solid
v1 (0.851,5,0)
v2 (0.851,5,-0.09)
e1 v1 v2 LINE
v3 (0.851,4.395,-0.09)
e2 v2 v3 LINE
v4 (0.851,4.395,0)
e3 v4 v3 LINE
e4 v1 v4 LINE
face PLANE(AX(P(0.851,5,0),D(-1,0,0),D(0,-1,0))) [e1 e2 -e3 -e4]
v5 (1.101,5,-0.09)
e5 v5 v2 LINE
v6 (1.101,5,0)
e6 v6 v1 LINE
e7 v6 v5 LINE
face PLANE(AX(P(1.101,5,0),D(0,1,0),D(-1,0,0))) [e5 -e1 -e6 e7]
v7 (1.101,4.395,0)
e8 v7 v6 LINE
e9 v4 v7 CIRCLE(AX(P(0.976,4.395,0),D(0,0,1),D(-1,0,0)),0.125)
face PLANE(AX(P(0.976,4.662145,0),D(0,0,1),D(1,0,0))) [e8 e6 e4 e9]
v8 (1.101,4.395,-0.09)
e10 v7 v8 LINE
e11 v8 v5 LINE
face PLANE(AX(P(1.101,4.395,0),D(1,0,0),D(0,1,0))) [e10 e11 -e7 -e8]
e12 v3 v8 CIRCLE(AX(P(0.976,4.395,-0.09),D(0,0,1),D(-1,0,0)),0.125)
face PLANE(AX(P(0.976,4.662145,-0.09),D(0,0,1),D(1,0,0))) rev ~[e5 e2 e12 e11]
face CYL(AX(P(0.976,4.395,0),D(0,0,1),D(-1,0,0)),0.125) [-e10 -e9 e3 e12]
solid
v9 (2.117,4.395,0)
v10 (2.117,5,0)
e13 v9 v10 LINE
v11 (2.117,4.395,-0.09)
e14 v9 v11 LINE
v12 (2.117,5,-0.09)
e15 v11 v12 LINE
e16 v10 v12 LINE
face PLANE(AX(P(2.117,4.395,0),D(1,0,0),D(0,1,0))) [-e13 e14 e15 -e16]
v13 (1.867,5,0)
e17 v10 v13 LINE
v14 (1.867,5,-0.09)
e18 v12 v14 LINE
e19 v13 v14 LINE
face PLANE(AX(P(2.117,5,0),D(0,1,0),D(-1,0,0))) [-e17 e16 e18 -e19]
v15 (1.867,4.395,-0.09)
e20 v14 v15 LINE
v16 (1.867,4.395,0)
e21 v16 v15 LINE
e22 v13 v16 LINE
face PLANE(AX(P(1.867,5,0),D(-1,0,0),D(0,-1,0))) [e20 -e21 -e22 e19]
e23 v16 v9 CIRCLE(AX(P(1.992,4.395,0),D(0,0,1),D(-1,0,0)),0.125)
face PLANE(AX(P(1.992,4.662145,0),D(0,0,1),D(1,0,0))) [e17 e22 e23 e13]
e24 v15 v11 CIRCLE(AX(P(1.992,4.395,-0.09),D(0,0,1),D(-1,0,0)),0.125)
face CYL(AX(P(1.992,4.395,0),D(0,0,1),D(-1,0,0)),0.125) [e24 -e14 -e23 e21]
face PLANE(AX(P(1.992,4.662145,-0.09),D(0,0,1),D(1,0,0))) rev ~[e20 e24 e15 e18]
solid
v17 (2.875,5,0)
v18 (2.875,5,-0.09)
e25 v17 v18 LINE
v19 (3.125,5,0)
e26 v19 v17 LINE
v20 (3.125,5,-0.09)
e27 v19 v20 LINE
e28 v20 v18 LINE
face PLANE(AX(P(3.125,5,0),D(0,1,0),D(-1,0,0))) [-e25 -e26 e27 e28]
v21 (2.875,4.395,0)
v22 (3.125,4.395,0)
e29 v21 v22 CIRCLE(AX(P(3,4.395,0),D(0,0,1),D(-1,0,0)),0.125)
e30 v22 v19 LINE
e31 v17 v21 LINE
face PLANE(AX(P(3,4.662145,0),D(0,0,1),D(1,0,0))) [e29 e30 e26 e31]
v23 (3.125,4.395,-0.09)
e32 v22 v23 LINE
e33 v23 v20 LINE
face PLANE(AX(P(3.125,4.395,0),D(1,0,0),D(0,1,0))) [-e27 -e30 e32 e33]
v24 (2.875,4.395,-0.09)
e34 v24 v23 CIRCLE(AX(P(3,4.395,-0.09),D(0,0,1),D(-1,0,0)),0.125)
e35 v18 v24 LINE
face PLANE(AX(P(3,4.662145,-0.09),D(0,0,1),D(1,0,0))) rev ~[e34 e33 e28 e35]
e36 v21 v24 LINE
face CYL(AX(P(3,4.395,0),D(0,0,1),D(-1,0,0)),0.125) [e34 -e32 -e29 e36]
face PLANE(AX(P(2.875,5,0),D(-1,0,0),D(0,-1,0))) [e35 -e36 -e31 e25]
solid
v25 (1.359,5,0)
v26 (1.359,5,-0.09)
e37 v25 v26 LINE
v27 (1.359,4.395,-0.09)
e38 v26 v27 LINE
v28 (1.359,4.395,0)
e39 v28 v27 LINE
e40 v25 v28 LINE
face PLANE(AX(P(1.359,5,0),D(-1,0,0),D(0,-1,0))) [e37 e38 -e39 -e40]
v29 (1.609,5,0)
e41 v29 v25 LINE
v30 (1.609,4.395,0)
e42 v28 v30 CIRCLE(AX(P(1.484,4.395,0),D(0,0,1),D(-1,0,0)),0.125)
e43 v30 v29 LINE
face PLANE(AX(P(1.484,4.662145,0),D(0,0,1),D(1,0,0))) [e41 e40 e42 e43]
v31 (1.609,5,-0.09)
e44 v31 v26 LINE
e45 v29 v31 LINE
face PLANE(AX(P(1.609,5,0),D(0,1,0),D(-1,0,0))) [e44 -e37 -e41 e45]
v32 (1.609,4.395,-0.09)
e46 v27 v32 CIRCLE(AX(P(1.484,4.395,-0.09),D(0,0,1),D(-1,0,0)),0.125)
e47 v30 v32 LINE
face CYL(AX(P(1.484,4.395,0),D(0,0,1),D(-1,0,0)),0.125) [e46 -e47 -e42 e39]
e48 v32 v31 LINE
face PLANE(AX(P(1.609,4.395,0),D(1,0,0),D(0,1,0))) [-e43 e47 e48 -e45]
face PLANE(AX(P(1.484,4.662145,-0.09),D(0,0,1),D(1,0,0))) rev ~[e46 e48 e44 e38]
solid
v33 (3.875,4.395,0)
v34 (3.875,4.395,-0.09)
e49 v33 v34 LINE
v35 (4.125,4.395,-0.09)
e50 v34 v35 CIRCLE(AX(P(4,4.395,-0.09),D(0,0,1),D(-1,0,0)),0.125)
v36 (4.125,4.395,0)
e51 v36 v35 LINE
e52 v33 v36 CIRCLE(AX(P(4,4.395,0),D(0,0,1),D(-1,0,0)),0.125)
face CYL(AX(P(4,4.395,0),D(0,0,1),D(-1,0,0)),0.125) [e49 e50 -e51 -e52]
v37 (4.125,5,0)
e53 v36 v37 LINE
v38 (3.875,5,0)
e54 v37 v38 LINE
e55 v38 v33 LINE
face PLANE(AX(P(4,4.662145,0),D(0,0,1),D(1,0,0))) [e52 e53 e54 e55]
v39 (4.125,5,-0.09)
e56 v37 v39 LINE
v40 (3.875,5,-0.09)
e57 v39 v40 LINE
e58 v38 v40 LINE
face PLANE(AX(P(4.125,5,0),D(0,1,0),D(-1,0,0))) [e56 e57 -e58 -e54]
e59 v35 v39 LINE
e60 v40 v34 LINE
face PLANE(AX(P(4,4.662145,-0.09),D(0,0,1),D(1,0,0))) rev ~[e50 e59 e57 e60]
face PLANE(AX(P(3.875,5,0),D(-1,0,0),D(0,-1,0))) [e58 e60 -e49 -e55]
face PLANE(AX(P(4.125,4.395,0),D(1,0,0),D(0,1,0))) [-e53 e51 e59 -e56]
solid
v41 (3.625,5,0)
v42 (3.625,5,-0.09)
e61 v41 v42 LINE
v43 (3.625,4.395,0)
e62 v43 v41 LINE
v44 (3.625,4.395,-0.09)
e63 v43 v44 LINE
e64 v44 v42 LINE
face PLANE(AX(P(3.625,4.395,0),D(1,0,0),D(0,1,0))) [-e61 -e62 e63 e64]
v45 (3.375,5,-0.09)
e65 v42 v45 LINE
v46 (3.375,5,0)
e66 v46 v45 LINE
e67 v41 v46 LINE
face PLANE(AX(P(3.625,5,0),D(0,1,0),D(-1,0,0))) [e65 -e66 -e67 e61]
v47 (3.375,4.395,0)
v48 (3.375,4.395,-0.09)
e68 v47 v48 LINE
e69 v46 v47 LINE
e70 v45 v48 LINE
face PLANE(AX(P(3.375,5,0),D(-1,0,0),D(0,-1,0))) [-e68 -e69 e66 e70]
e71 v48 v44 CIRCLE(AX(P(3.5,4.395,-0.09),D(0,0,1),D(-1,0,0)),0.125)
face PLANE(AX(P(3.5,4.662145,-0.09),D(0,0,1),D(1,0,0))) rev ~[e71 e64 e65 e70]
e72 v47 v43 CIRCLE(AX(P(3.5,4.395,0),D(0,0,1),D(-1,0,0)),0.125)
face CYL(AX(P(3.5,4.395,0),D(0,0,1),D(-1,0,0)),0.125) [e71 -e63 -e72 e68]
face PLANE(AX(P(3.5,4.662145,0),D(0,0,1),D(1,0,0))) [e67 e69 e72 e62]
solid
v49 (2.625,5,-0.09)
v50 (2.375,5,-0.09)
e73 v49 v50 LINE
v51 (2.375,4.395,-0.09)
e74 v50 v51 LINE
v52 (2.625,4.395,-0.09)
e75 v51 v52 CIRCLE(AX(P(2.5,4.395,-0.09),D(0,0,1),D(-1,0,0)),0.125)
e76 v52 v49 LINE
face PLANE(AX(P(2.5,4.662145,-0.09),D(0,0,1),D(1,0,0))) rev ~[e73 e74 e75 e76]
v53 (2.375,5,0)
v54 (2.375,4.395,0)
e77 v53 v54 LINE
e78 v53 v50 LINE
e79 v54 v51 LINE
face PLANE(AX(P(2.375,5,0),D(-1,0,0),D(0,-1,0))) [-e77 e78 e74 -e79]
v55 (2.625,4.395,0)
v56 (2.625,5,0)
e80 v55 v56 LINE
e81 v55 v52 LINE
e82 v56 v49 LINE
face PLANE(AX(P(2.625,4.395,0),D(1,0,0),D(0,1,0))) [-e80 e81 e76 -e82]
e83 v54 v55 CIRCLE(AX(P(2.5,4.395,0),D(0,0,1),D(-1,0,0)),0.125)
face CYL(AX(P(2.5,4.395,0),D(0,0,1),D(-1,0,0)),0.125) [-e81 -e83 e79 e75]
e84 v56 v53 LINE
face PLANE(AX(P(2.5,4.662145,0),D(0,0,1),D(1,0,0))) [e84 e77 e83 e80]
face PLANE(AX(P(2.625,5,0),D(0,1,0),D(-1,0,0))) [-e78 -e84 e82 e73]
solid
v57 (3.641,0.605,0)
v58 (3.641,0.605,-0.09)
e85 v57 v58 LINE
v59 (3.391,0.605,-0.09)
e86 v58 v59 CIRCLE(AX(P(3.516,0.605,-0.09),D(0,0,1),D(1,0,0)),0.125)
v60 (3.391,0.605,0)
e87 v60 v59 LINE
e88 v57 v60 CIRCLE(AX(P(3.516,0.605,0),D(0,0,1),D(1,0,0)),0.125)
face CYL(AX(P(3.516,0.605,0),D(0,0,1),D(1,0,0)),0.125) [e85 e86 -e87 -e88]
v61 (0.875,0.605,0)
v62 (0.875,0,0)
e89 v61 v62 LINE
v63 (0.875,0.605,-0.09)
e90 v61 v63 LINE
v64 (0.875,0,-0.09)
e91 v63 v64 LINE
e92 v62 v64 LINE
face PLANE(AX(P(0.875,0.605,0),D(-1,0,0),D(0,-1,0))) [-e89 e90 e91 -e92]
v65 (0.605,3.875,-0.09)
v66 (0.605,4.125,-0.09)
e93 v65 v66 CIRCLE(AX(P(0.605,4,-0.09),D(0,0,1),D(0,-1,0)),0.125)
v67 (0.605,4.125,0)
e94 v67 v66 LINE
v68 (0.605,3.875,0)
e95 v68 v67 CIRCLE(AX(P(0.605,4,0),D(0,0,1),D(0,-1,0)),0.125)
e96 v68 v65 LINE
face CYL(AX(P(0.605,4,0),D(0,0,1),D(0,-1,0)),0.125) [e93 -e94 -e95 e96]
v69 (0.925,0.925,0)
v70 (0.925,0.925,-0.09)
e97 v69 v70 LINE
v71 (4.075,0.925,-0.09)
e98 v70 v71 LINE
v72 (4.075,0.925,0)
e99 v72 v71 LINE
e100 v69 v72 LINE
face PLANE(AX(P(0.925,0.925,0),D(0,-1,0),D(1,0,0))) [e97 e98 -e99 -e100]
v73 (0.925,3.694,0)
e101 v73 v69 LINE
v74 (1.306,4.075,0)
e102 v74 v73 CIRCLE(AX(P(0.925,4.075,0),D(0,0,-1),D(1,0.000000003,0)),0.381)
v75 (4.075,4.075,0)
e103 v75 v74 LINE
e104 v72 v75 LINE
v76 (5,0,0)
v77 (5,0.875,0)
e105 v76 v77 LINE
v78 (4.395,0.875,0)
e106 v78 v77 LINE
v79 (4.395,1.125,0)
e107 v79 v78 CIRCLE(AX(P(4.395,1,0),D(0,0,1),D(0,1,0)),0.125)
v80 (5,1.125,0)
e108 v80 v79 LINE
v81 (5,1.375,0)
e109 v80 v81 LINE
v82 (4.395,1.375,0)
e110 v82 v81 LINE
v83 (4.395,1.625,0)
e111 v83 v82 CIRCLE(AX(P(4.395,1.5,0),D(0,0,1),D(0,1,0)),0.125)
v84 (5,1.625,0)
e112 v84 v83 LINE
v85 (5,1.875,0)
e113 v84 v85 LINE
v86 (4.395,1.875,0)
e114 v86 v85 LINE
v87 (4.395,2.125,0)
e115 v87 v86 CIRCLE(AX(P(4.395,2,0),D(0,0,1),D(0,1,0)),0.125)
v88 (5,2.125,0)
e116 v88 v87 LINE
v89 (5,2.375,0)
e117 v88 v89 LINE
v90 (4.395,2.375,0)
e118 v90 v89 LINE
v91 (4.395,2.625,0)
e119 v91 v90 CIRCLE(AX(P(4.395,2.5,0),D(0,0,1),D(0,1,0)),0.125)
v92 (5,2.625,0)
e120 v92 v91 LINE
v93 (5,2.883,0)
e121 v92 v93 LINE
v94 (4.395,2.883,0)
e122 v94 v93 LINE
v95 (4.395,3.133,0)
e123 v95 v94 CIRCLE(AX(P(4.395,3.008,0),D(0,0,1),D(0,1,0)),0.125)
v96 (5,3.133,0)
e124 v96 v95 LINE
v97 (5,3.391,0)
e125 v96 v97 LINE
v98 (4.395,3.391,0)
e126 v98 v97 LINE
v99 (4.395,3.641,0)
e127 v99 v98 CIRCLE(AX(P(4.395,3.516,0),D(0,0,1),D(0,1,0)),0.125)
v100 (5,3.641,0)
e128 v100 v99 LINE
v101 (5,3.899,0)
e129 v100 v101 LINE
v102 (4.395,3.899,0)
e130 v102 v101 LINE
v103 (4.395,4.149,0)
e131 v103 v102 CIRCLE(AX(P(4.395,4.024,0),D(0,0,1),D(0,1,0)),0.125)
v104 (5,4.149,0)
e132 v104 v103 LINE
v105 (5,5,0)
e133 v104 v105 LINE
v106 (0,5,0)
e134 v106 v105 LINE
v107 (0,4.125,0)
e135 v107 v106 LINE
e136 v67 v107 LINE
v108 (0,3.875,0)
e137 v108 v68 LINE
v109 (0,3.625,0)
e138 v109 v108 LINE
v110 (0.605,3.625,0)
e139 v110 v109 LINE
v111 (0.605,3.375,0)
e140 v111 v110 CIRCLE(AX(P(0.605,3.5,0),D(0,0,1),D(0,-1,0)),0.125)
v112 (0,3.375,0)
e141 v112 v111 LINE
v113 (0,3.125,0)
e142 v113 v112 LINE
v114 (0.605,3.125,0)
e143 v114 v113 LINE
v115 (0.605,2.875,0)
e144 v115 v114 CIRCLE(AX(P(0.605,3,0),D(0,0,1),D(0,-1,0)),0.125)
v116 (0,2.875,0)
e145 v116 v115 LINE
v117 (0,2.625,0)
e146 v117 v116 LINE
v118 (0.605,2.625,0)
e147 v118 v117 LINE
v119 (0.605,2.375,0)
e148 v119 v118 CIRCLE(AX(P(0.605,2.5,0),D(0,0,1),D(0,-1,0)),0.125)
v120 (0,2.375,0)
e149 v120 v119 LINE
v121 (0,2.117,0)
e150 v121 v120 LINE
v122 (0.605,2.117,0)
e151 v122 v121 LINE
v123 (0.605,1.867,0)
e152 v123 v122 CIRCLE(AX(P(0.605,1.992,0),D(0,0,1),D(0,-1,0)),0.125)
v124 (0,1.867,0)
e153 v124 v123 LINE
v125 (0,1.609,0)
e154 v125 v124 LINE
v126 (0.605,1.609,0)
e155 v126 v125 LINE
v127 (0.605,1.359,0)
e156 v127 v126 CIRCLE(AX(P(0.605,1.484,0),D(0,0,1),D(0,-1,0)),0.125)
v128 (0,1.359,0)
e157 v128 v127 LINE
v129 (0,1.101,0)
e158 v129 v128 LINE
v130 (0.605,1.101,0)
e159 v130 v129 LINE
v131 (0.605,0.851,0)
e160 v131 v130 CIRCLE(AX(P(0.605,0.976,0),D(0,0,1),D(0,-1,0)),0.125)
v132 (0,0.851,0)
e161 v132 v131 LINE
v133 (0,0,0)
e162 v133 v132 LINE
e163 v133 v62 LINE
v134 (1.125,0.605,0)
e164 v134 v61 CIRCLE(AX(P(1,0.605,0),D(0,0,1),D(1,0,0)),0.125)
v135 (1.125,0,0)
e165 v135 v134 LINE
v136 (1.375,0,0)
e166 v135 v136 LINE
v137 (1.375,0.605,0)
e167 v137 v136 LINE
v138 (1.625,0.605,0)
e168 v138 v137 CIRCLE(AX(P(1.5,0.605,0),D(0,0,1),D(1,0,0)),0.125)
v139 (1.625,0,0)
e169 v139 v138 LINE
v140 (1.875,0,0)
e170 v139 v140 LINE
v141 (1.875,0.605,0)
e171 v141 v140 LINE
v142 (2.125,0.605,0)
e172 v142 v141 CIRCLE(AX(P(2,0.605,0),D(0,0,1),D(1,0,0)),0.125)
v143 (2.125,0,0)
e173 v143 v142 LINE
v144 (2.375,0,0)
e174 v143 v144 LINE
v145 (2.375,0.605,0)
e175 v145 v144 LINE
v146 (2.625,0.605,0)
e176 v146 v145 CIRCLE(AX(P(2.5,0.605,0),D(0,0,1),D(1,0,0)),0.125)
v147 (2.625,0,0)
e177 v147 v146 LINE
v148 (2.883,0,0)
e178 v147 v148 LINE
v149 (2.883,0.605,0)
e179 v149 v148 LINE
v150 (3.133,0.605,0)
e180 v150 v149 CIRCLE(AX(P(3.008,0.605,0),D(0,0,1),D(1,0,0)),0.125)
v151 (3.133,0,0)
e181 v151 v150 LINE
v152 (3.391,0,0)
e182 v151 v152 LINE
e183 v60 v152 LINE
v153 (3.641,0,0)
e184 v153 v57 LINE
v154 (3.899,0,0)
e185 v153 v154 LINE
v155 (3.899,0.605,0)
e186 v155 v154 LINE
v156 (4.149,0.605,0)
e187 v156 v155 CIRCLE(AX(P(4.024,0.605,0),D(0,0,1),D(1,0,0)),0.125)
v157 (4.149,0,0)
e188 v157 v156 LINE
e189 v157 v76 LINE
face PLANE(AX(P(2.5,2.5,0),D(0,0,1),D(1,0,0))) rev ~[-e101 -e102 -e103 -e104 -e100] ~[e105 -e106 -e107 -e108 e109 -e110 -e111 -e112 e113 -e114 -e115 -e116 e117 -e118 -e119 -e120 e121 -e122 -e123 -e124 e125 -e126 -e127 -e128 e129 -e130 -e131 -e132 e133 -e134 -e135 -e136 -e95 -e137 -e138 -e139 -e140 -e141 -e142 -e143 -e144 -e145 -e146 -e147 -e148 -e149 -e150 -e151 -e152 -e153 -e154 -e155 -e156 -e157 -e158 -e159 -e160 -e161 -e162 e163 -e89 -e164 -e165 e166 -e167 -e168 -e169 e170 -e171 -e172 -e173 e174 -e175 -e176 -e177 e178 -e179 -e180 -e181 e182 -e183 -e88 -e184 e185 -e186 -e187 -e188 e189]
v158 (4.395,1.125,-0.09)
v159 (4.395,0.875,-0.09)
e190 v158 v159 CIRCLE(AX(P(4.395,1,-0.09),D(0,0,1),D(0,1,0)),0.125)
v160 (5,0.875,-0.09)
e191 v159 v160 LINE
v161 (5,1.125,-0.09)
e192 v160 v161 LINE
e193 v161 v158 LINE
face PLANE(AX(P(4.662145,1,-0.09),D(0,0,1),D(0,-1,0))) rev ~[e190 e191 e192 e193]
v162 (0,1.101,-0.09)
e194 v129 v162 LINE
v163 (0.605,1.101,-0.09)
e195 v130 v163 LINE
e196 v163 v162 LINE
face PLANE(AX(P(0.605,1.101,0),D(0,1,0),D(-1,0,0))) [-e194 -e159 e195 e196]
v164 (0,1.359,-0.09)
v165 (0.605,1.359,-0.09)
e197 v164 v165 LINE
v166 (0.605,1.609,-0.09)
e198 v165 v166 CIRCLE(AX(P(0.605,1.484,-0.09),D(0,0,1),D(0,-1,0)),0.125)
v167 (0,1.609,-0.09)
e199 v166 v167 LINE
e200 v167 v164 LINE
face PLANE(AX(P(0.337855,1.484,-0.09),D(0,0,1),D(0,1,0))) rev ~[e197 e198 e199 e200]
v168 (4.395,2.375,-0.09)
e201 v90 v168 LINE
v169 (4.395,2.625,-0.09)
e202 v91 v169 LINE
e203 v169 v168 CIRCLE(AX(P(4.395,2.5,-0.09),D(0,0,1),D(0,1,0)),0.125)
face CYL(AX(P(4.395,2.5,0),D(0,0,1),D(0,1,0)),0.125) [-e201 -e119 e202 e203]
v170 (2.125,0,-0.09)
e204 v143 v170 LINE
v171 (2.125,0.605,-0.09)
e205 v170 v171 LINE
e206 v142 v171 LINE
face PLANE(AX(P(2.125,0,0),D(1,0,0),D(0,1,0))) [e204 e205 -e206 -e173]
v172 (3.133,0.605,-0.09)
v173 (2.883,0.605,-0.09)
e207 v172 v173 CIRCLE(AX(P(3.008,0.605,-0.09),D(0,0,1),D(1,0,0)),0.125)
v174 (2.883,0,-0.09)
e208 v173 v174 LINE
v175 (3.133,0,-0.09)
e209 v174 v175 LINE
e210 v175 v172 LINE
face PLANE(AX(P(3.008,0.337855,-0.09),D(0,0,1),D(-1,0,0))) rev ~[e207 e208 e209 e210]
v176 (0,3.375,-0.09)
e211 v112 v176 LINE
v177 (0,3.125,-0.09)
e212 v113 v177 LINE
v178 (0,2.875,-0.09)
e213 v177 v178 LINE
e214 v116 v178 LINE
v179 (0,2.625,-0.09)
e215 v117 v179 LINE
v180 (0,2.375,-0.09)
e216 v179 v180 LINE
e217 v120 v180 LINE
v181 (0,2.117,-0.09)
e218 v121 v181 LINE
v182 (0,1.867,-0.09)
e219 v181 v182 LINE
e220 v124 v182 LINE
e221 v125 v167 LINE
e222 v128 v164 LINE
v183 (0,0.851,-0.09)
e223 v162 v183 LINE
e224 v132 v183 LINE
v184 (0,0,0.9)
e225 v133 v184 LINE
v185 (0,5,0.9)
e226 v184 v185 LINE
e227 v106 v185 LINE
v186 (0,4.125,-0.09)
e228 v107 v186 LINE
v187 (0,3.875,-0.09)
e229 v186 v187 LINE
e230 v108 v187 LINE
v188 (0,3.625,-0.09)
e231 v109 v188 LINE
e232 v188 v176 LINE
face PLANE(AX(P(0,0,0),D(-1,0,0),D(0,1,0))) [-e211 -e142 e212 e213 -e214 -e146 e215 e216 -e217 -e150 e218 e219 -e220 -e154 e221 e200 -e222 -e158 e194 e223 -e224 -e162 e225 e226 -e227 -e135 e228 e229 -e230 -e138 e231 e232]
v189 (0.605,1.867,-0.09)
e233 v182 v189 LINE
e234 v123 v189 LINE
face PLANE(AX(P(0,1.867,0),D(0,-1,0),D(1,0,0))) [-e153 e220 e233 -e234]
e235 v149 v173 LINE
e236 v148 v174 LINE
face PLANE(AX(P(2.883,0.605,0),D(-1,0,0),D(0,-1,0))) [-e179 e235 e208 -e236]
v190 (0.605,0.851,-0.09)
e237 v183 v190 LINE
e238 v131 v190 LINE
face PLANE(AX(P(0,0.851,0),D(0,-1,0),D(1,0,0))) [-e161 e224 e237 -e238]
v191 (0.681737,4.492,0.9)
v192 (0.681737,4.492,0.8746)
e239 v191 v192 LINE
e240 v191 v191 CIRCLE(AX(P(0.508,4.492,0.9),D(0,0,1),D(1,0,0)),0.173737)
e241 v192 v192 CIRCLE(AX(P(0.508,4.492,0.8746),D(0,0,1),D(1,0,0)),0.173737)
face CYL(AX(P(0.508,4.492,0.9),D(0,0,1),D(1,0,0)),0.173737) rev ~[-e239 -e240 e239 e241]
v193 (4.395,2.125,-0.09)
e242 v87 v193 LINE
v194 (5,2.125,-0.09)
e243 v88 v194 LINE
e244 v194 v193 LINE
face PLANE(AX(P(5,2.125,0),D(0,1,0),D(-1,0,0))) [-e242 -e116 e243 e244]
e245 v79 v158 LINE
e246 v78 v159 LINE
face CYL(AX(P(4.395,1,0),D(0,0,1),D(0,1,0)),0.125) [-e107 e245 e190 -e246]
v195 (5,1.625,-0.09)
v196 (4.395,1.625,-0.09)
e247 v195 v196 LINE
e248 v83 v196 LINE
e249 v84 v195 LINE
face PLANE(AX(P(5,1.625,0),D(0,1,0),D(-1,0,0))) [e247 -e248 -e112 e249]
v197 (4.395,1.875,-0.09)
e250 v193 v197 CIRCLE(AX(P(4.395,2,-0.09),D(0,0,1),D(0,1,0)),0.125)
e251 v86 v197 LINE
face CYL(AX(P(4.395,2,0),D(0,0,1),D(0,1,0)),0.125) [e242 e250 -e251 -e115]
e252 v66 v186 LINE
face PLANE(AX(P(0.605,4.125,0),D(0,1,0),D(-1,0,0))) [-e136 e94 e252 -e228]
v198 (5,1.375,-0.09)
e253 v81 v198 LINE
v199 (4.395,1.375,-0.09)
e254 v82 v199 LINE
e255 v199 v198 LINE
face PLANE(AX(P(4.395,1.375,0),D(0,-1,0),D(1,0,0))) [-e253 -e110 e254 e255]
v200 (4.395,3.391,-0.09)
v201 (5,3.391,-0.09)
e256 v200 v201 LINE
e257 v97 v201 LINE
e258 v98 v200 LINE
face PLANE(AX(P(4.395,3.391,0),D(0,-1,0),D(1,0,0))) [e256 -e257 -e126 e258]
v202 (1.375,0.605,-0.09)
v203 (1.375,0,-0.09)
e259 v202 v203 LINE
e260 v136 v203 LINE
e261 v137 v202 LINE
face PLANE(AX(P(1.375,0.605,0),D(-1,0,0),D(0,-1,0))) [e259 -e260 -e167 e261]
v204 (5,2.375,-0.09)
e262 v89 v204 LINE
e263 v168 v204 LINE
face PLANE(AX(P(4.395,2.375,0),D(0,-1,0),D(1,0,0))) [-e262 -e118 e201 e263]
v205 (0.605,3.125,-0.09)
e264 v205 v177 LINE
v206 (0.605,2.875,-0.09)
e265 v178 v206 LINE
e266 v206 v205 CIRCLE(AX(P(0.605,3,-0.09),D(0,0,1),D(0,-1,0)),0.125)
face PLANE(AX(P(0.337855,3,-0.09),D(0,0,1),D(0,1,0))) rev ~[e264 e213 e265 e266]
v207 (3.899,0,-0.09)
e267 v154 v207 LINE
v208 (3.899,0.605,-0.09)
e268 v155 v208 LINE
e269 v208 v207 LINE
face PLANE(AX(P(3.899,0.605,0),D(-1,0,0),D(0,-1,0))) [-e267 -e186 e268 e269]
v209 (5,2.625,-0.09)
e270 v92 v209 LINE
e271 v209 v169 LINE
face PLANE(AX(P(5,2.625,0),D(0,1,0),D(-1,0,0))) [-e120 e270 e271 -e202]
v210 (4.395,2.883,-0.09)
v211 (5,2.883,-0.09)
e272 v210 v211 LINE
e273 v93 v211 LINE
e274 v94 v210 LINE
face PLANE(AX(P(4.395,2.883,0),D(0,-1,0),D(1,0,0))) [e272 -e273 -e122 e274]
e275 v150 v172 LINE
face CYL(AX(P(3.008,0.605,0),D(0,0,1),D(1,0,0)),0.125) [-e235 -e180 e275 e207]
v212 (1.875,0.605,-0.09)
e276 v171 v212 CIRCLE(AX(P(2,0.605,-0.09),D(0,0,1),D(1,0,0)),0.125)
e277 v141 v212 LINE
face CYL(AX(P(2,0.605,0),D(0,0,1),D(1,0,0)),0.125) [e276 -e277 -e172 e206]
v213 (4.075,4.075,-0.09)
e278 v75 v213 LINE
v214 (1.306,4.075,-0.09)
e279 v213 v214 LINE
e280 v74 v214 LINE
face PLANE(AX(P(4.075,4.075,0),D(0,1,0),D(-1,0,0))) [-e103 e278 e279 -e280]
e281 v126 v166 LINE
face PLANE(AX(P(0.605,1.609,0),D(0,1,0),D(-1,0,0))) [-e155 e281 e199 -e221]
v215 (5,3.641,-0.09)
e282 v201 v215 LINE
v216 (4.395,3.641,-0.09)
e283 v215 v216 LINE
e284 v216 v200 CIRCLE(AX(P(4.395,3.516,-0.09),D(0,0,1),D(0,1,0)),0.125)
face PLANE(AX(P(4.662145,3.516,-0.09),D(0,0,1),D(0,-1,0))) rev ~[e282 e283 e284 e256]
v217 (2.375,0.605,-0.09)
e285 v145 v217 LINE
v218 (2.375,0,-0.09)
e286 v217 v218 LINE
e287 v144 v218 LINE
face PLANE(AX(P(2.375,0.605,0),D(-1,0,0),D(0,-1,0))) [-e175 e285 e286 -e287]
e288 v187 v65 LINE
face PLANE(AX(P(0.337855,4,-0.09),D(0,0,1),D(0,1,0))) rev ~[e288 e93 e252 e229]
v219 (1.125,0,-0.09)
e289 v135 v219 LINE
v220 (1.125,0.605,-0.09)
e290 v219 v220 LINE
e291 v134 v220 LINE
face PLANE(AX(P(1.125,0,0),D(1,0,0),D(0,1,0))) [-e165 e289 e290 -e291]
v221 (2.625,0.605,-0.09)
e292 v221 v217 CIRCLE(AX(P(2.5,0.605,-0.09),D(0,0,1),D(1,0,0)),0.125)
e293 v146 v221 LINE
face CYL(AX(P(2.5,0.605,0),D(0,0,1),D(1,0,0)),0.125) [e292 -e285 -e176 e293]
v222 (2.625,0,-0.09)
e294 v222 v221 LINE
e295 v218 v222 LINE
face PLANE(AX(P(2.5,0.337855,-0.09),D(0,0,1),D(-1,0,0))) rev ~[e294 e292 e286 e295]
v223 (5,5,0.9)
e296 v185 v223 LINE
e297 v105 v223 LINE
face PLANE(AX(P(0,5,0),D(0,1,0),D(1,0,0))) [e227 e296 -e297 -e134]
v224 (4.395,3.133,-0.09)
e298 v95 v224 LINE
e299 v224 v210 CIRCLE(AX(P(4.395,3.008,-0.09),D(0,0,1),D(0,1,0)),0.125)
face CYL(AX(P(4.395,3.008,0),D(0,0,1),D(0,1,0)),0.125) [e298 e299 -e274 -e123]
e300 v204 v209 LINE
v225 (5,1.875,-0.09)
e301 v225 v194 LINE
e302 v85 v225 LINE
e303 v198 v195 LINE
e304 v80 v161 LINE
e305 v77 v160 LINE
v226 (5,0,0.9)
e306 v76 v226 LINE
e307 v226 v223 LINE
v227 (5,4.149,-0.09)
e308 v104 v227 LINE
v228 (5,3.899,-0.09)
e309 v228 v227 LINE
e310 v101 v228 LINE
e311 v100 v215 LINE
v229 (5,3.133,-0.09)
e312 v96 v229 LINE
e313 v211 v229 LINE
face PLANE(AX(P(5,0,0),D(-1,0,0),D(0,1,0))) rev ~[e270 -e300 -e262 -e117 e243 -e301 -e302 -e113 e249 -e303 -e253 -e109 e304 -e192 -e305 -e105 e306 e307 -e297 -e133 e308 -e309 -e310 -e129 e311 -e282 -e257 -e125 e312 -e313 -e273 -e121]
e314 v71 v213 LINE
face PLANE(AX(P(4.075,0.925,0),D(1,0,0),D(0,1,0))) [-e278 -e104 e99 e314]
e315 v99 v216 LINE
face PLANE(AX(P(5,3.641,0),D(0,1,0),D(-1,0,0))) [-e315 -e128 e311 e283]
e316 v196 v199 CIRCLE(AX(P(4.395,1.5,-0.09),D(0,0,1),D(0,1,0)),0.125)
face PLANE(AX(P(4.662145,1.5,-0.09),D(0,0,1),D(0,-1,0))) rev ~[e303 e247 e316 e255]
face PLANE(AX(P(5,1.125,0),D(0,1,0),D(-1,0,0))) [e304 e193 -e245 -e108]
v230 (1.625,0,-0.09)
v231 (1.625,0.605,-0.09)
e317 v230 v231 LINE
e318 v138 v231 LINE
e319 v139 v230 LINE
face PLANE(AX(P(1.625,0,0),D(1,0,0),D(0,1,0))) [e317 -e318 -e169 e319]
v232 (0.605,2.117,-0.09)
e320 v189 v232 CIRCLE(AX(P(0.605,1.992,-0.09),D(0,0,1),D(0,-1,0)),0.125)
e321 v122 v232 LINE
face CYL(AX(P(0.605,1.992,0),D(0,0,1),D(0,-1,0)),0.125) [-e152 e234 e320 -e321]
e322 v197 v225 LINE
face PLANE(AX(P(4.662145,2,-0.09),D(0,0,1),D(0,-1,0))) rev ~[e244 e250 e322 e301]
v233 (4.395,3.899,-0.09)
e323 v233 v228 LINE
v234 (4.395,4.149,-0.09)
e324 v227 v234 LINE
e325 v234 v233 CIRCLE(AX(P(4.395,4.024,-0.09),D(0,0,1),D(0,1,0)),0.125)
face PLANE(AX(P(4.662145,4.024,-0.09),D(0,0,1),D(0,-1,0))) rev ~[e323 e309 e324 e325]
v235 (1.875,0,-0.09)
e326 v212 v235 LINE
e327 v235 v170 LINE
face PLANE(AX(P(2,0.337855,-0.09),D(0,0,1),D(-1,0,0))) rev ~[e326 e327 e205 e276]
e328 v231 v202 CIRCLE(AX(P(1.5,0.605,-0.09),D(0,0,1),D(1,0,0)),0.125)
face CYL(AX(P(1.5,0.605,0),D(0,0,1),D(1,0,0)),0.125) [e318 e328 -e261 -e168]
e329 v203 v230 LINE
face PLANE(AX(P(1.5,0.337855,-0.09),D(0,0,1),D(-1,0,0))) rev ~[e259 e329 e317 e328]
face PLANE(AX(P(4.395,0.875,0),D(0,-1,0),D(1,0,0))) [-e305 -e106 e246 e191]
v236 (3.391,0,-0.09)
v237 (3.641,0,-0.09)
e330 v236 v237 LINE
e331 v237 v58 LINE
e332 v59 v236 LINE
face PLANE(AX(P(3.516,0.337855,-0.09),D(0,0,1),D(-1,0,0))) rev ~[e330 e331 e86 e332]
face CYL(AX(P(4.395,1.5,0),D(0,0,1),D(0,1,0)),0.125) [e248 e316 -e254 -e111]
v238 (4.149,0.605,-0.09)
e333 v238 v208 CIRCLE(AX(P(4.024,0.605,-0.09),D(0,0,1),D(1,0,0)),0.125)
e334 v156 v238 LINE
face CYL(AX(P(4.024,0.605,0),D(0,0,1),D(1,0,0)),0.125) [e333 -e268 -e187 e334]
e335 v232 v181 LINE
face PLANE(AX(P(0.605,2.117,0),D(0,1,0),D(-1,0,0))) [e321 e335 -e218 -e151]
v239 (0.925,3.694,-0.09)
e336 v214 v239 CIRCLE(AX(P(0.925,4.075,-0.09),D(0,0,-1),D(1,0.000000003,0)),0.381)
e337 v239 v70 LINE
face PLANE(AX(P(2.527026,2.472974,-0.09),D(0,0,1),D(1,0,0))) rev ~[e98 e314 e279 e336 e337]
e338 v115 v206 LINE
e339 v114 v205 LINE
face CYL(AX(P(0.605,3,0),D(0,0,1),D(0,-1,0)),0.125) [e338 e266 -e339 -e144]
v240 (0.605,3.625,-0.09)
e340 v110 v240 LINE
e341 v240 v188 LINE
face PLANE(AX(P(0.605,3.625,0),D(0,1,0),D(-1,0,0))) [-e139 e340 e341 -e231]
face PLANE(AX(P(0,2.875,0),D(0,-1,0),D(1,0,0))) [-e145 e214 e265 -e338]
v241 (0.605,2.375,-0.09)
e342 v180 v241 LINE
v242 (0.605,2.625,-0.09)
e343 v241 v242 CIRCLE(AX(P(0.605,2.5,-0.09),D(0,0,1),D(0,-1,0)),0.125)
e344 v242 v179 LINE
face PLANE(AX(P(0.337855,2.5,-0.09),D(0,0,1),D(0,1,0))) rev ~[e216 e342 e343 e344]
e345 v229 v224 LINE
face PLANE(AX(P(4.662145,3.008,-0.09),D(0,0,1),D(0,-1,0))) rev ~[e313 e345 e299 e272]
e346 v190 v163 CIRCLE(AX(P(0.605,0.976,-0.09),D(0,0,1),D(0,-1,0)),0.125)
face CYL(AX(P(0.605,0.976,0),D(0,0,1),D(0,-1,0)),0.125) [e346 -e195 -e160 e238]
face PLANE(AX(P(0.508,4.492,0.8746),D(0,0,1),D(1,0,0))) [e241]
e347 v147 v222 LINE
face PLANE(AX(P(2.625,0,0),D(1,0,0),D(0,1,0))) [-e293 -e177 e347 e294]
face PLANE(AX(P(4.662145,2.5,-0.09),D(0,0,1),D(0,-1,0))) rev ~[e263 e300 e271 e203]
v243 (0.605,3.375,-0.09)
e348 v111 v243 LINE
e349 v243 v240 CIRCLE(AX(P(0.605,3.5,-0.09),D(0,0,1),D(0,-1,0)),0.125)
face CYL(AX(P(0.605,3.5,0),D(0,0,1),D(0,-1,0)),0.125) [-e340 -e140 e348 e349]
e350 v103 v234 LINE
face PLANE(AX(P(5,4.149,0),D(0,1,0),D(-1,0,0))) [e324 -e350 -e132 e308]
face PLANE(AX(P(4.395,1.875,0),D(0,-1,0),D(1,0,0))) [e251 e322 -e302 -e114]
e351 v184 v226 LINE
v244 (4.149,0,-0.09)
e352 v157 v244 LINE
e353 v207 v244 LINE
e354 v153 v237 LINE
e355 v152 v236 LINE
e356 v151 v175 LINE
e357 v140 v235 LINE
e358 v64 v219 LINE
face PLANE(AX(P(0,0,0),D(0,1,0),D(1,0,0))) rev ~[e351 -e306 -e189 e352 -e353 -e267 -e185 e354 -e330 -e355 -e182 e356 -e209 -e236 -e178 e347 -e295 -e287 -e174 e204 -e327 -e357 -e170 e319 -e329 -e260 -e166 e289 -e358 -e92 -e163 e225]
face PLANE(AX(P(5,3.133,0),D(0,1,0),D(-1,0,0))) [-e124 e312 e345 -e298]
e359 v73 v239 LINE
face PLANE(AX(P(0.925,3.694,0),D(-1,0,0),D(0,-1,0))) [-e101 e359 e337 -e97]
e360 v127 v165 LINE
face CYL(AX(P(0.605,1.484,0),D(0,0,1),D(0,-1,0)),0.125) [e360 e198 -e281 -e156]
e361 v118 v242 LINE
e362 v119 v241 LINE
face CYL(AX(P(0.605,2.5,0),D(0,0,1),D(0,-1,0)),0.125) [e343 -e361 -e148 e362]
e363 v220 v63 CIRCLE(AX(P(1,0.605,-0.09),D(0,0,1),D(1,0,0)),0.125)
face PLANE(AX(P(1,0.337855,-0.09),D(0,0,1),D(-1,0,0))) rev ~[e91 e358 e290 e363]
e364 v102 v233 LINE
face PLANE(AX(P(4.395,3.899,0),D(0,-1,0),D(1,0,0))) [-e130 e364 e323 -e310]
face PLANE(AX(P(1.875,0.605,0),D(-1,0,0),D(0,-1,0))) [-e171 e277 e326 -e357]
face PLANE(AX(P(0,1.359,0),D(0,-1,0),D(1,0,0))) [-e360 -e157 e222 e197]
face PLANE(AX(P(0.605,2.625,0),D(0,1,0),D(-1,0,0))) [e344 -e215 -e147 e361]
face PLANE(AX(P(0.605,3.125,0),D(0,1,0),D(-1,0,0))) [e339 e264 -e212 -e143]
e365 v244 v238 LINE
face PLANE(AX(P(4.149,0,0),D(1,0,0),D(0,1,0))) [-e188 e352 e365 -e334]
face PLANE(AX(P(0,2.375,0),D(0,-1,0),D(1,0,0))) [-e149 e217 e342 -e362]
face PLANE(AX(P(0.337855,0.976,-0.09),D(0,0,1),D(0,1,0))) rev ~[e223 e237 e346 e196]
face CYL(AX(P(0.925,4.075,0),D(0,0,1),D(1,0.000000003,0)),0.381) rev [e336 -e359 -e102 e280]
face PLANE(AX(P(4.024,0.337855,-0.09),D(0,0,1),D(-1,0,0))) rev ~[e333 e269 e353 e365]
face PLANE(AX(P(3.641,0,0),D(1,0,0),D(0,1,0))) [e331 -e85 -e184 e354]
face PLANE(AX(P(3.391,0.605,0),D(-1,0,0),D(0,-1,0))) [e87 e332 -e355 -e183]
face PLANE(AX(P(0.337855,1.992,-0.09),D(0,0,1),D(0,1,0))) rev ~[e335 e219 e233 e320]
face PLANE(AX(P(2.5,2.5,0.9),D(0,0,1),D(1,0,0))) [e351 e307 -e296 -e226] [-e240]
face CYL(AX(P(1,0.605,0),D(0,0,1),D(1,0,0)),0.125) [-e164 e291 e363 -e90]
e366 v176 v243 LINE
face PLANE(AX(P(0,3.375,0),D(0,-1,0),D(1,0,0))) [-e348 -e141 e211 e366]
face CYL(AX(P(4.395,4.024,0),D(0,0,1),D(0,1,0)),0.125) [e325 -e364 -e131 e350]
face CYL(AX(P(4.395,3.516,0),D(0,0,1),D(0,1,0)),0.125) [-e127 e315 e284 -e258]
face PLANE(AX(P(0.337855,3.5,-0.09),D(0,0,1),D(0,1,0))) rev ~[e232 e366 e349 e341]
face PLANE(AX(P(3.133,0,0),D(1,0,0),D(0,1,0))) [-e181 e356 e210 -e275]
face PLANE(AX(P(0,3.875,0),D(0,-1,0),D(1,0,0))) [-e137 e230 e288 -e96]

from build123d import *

# Parameters (mm, degrees)
SKETCH1_W             = 5
SKETCH1_H             = 5
BOSS_EXTRUDE1_DEPTH   = 0.9
BOSS_EXTRUDE3_DEPTH   = 0.09
BOSS_EXTRUDE3_2_DEPTH = 0.09
BOSS_EXTRUDE3_3_DEPTH = 0.09
BOSS_EXTRUDE3_4_DEPTH = 0.09
BOSS_EXTRUDE3_5_DEPTH = 0.09
BOSS_EXTRUDE3_6_DEPTH = 0.09
BOSS_EXTRUDE3_7_DEPTH = 0.09
CIRPATTERN1_COUNT     = 4
SKETCH4_R             = 0.173736533
CUT_EXTRUDE1_DEPTH    = 0.0254
BOSS_EXTRUDE5_DEPTH   = 0.090000074


with BuildPart() as part:
    # Sketch1 → Boss-Extrude1 (new body)
    with BuildSketch(Plane.XY):
        with Locations((2.5, 2.5)):
            Rectangle(SKETCH1_W, SKETCH1_H)
    extrude(amount=BOSS_EXTRUDE1_DEPTH)


with BuildPart() as body_2:
    # Sketch2 → Boss-Extrude3 (new body)
    with BuildSketch(Plane(origin=(0, 0, 0), x_dir=(-1, 0, 0), z_dir=(0, 0, -1))):
        with BuildLine():
            Line((-2.117, 5), (-1.867, 5))
            Line((-1.867, 5), (-1.867, 4.395))
            ThreePointArc((-1.867, 4.395), (-1.992, 4.27), (-2.117, 4.395))
            Line((-2.117, 4.395), (-2.117, 5))
        make_face()
    boss_extrude3 = extrude(amount=BOSS_EXTRUDE3_DEPTH)


with BuildPart() as body_3:
    # Sketch2 → Boss-Extrude3 2 (new body)
    with BuildSketch(Plane(origin=(0, 0, 0), x_dir=(-1, 0, 0), z_dir=(0, 0, -1))):
        with BuildLine():
            Line((-2.625, 5), (-2.375, 5))
            Line((-2.375, 5), (-2.375, 4.395))
            ThreePointArc((-2.375, 4.395), (-2.5, 4.27), (-2.625, 4.395))
            Line((-2.625, 4.395), (-2.625, 5))
        make_face()
    boss_extrude3_2 = extrude(amount=BOSS_EXTRUDE3_2_DEPTH)


with BuildPart() as body_4:
    # Sketch2 → Boss-Extrude3 3 (new body)
    with BuildSketch(Plane(origin=(0, 0, 0), x_dir=(-1, 0, 0), z_dir=(0, 0, -1))):
        with BuildLine():
            Line((-1.609, 5), (-1.359, 5))
            Line((-1.359, 5), (-1.359, 4.395))
            ThreePointArc((-1.359, 4.395), (-1.484, 4.27), (-1.609, 4.395))
            Line((-1.609, 4.395), (-1.609, 5))
        make_face()
    boss_extrude3_3 = extrude(amount=BOSS_EXTRUDE3_3_DEPTH)


with BuildPart() as body_5:
    # Sketch2 → Boss-Extrude3 4 (new body)
    with BuildSketch(Plane(origin=(0, 0, 0), x_dir=(-1, 0, 0), z_dir=(0, 0, -1))):
        with BuildLine():
            Line((-1.101, 5), (-0.851, 5))
            Line((-0.851, 5), (-0.851, 4.395))
            ThreePointArc((-0.851, 4.395), (-0.976, 4.27), (-1.101, 4.395))
            Line((-1.101, 4.395), (-1.101, 5))
        make_face()
    boss_extrude3_4 = extrude(amount=BOSS_EXTRUDE3_4_DEPTH)


with BuildPart() as body_6:
    # Sketch2 → Boss-Extrude3 5 (new body)
    with BuildSketch(Plane(origin=(0, 0, 0), x_dir=(-1, 0, 0), z_dir=(0, 0, -1))):
        with BuildLine():
            Line((-3.125, 5), (-2.875, 5))
            Line((-2.875, 5), (-2.875, 4.395))
            ThreePointArc((-2.875, 4.395), (-3, 4.27), (-3.125, 4.395))
            Line((-3.125, 4.395), (-3.125, 5))
        make_face()
    boss_extrude3_5 = extrude(amount=BOSS_EXTRUDE3_5_DEPTH)


with BuildPart() as body_7:
    # Sketch2 → Boss-Extrude3 6 (new body)
    with BuildSketch(Plane(origin=(0, 0, 0), x_dir=(-1, 0, 0), z_dir=(0, 0, -1))):
        with BuildLine():
            Line((-3.625, 5), (-3.375, 5))
            Line((-3.375, 5), (-3.375, 4.395))
            ThreePointArc((-3.375, 4.395), (-3.5, 4.27), (-3.625, 4.395))
            Line((-3.625, 4.395), (-3.625, 5))
        make_face()
    boss_extrude3_6 = extrude(amount=BOSS_EXTRUDE3_6_DEPTH)


with BuildPart() as body_8:
    # Sketch2 → Boss-Extrude3 7 (new body)
    with BuildSketch(Plane(origin=(0, 0, 0), x_dir=(-1, 0, 0), z_dir=(0, 0, -1))):
        with BuildLine():
            Line((-4.125, 5), (-3.875, 5))
            Line((-3.875, 5), (-3.875, 4.395))
            ThreePointArc((-3.875, 4.395), (-4, 4.27), (-4.125, 4.395))
            Line((-4.125, 4.395), (-4.125, 5))
        make_face()
    boss_extrude3_7 = extrude(amount=BOSS_EXTRUDE3_7_DEPTH)


with BuildPart() as part_1:
    add(part.part)

    # CirPattern1: Boss-Extrude3, Boss-Extrude3 2, Boss-Extrude3 3, Boss-Extrude3 4, Boss-Extrude3 5, Boss-Extrude3 6, Boss-Extrude3 7 ×4 about axis
    cirpattern1_axis = Axis((2.5, 2.5, 0.945), (0, 0, -1))
    add([boss_extrude3.rotate(cirpattern1_axis, i * 360 / CIRPATTERN1_COUNT) for i in range(1, CIRPATTERN1_COUNT)])
    add([boss_extrude3_2.rotate(cirpattern1_axis, i * 360 / CIRPATTERN1_COUNT) for i in range(1, CIRPATTERN1_COUNT)])
    add([boss_extrude3_3.rotate(cirpattern1_axis, i * 360 / CIRPATTERN1_COUNT) for i in range(1, CIRPATTERN1_COUNT)])
    add([boss_extrude3_4.rotate(cirpattern1_axis, i * 360 / CIRPATTERN1_COUNT) for i in range(1, CIRPATTERN1_COUNT)])
    add([boss_extrude3_5.rotate(cirpattern1_axis, i * 360 / CIRPATTERN1_COUNT) for i in range(1, CIRPATTERN1_COUNT)])
    add([boss_extrude3_6.rotate(cirpattern1_axis, i * 360 / CIRPATTERN1_COUNT) for i in range(1, CIRPATTERN1_COUNT)])
    add([boss_extrude3_7.rotate(cirpattern1_axis, i * 360 / CIRPATTERN1_COUNT) for i in range(1, CIRPATTERN1_COUNT)])

    # Sketch4 → Cut-Extrude1 (cut)
    with BuildSketch(Plane.XY.offset(0.9)):
        with Locations((0.508, 4.492)):
            Circle(SKETCH4_R)
    extrude(amount=-CUT_EXTRUDE1_DEPTH, mode=Mode.SUBTRACT)

    # Sketch5 → Boss-Extrude5 (add)
    with BuildSketch(Plane(origin=(0, 0, 0), x_dir=(-1, 0, 0), z_dir=(0, 0, -1))):
        with BuildLine():
            Line((-4.075, 4.075), (-1.306, 4.075))
            ThreePointArc((-1.306, 4.075), (-1.194407684, 3.805592316), (-0.925, 3.694))
            Line((-0.925, 3.694), (-0.925, 0.925))
            Line((-0.925, 0.925), (-4.075, 0.925))
            Line((-4.075, 0.925), (-4.075, 4.075))
        make_face()
    extrude(amount=BOSS_EXTRUDE5_DEPTH)


solid = Compound([body_2.part, body_3.part, body_4.part, body_5.part, body_6.part, body_7.part, body_8.part, part_1.part])
